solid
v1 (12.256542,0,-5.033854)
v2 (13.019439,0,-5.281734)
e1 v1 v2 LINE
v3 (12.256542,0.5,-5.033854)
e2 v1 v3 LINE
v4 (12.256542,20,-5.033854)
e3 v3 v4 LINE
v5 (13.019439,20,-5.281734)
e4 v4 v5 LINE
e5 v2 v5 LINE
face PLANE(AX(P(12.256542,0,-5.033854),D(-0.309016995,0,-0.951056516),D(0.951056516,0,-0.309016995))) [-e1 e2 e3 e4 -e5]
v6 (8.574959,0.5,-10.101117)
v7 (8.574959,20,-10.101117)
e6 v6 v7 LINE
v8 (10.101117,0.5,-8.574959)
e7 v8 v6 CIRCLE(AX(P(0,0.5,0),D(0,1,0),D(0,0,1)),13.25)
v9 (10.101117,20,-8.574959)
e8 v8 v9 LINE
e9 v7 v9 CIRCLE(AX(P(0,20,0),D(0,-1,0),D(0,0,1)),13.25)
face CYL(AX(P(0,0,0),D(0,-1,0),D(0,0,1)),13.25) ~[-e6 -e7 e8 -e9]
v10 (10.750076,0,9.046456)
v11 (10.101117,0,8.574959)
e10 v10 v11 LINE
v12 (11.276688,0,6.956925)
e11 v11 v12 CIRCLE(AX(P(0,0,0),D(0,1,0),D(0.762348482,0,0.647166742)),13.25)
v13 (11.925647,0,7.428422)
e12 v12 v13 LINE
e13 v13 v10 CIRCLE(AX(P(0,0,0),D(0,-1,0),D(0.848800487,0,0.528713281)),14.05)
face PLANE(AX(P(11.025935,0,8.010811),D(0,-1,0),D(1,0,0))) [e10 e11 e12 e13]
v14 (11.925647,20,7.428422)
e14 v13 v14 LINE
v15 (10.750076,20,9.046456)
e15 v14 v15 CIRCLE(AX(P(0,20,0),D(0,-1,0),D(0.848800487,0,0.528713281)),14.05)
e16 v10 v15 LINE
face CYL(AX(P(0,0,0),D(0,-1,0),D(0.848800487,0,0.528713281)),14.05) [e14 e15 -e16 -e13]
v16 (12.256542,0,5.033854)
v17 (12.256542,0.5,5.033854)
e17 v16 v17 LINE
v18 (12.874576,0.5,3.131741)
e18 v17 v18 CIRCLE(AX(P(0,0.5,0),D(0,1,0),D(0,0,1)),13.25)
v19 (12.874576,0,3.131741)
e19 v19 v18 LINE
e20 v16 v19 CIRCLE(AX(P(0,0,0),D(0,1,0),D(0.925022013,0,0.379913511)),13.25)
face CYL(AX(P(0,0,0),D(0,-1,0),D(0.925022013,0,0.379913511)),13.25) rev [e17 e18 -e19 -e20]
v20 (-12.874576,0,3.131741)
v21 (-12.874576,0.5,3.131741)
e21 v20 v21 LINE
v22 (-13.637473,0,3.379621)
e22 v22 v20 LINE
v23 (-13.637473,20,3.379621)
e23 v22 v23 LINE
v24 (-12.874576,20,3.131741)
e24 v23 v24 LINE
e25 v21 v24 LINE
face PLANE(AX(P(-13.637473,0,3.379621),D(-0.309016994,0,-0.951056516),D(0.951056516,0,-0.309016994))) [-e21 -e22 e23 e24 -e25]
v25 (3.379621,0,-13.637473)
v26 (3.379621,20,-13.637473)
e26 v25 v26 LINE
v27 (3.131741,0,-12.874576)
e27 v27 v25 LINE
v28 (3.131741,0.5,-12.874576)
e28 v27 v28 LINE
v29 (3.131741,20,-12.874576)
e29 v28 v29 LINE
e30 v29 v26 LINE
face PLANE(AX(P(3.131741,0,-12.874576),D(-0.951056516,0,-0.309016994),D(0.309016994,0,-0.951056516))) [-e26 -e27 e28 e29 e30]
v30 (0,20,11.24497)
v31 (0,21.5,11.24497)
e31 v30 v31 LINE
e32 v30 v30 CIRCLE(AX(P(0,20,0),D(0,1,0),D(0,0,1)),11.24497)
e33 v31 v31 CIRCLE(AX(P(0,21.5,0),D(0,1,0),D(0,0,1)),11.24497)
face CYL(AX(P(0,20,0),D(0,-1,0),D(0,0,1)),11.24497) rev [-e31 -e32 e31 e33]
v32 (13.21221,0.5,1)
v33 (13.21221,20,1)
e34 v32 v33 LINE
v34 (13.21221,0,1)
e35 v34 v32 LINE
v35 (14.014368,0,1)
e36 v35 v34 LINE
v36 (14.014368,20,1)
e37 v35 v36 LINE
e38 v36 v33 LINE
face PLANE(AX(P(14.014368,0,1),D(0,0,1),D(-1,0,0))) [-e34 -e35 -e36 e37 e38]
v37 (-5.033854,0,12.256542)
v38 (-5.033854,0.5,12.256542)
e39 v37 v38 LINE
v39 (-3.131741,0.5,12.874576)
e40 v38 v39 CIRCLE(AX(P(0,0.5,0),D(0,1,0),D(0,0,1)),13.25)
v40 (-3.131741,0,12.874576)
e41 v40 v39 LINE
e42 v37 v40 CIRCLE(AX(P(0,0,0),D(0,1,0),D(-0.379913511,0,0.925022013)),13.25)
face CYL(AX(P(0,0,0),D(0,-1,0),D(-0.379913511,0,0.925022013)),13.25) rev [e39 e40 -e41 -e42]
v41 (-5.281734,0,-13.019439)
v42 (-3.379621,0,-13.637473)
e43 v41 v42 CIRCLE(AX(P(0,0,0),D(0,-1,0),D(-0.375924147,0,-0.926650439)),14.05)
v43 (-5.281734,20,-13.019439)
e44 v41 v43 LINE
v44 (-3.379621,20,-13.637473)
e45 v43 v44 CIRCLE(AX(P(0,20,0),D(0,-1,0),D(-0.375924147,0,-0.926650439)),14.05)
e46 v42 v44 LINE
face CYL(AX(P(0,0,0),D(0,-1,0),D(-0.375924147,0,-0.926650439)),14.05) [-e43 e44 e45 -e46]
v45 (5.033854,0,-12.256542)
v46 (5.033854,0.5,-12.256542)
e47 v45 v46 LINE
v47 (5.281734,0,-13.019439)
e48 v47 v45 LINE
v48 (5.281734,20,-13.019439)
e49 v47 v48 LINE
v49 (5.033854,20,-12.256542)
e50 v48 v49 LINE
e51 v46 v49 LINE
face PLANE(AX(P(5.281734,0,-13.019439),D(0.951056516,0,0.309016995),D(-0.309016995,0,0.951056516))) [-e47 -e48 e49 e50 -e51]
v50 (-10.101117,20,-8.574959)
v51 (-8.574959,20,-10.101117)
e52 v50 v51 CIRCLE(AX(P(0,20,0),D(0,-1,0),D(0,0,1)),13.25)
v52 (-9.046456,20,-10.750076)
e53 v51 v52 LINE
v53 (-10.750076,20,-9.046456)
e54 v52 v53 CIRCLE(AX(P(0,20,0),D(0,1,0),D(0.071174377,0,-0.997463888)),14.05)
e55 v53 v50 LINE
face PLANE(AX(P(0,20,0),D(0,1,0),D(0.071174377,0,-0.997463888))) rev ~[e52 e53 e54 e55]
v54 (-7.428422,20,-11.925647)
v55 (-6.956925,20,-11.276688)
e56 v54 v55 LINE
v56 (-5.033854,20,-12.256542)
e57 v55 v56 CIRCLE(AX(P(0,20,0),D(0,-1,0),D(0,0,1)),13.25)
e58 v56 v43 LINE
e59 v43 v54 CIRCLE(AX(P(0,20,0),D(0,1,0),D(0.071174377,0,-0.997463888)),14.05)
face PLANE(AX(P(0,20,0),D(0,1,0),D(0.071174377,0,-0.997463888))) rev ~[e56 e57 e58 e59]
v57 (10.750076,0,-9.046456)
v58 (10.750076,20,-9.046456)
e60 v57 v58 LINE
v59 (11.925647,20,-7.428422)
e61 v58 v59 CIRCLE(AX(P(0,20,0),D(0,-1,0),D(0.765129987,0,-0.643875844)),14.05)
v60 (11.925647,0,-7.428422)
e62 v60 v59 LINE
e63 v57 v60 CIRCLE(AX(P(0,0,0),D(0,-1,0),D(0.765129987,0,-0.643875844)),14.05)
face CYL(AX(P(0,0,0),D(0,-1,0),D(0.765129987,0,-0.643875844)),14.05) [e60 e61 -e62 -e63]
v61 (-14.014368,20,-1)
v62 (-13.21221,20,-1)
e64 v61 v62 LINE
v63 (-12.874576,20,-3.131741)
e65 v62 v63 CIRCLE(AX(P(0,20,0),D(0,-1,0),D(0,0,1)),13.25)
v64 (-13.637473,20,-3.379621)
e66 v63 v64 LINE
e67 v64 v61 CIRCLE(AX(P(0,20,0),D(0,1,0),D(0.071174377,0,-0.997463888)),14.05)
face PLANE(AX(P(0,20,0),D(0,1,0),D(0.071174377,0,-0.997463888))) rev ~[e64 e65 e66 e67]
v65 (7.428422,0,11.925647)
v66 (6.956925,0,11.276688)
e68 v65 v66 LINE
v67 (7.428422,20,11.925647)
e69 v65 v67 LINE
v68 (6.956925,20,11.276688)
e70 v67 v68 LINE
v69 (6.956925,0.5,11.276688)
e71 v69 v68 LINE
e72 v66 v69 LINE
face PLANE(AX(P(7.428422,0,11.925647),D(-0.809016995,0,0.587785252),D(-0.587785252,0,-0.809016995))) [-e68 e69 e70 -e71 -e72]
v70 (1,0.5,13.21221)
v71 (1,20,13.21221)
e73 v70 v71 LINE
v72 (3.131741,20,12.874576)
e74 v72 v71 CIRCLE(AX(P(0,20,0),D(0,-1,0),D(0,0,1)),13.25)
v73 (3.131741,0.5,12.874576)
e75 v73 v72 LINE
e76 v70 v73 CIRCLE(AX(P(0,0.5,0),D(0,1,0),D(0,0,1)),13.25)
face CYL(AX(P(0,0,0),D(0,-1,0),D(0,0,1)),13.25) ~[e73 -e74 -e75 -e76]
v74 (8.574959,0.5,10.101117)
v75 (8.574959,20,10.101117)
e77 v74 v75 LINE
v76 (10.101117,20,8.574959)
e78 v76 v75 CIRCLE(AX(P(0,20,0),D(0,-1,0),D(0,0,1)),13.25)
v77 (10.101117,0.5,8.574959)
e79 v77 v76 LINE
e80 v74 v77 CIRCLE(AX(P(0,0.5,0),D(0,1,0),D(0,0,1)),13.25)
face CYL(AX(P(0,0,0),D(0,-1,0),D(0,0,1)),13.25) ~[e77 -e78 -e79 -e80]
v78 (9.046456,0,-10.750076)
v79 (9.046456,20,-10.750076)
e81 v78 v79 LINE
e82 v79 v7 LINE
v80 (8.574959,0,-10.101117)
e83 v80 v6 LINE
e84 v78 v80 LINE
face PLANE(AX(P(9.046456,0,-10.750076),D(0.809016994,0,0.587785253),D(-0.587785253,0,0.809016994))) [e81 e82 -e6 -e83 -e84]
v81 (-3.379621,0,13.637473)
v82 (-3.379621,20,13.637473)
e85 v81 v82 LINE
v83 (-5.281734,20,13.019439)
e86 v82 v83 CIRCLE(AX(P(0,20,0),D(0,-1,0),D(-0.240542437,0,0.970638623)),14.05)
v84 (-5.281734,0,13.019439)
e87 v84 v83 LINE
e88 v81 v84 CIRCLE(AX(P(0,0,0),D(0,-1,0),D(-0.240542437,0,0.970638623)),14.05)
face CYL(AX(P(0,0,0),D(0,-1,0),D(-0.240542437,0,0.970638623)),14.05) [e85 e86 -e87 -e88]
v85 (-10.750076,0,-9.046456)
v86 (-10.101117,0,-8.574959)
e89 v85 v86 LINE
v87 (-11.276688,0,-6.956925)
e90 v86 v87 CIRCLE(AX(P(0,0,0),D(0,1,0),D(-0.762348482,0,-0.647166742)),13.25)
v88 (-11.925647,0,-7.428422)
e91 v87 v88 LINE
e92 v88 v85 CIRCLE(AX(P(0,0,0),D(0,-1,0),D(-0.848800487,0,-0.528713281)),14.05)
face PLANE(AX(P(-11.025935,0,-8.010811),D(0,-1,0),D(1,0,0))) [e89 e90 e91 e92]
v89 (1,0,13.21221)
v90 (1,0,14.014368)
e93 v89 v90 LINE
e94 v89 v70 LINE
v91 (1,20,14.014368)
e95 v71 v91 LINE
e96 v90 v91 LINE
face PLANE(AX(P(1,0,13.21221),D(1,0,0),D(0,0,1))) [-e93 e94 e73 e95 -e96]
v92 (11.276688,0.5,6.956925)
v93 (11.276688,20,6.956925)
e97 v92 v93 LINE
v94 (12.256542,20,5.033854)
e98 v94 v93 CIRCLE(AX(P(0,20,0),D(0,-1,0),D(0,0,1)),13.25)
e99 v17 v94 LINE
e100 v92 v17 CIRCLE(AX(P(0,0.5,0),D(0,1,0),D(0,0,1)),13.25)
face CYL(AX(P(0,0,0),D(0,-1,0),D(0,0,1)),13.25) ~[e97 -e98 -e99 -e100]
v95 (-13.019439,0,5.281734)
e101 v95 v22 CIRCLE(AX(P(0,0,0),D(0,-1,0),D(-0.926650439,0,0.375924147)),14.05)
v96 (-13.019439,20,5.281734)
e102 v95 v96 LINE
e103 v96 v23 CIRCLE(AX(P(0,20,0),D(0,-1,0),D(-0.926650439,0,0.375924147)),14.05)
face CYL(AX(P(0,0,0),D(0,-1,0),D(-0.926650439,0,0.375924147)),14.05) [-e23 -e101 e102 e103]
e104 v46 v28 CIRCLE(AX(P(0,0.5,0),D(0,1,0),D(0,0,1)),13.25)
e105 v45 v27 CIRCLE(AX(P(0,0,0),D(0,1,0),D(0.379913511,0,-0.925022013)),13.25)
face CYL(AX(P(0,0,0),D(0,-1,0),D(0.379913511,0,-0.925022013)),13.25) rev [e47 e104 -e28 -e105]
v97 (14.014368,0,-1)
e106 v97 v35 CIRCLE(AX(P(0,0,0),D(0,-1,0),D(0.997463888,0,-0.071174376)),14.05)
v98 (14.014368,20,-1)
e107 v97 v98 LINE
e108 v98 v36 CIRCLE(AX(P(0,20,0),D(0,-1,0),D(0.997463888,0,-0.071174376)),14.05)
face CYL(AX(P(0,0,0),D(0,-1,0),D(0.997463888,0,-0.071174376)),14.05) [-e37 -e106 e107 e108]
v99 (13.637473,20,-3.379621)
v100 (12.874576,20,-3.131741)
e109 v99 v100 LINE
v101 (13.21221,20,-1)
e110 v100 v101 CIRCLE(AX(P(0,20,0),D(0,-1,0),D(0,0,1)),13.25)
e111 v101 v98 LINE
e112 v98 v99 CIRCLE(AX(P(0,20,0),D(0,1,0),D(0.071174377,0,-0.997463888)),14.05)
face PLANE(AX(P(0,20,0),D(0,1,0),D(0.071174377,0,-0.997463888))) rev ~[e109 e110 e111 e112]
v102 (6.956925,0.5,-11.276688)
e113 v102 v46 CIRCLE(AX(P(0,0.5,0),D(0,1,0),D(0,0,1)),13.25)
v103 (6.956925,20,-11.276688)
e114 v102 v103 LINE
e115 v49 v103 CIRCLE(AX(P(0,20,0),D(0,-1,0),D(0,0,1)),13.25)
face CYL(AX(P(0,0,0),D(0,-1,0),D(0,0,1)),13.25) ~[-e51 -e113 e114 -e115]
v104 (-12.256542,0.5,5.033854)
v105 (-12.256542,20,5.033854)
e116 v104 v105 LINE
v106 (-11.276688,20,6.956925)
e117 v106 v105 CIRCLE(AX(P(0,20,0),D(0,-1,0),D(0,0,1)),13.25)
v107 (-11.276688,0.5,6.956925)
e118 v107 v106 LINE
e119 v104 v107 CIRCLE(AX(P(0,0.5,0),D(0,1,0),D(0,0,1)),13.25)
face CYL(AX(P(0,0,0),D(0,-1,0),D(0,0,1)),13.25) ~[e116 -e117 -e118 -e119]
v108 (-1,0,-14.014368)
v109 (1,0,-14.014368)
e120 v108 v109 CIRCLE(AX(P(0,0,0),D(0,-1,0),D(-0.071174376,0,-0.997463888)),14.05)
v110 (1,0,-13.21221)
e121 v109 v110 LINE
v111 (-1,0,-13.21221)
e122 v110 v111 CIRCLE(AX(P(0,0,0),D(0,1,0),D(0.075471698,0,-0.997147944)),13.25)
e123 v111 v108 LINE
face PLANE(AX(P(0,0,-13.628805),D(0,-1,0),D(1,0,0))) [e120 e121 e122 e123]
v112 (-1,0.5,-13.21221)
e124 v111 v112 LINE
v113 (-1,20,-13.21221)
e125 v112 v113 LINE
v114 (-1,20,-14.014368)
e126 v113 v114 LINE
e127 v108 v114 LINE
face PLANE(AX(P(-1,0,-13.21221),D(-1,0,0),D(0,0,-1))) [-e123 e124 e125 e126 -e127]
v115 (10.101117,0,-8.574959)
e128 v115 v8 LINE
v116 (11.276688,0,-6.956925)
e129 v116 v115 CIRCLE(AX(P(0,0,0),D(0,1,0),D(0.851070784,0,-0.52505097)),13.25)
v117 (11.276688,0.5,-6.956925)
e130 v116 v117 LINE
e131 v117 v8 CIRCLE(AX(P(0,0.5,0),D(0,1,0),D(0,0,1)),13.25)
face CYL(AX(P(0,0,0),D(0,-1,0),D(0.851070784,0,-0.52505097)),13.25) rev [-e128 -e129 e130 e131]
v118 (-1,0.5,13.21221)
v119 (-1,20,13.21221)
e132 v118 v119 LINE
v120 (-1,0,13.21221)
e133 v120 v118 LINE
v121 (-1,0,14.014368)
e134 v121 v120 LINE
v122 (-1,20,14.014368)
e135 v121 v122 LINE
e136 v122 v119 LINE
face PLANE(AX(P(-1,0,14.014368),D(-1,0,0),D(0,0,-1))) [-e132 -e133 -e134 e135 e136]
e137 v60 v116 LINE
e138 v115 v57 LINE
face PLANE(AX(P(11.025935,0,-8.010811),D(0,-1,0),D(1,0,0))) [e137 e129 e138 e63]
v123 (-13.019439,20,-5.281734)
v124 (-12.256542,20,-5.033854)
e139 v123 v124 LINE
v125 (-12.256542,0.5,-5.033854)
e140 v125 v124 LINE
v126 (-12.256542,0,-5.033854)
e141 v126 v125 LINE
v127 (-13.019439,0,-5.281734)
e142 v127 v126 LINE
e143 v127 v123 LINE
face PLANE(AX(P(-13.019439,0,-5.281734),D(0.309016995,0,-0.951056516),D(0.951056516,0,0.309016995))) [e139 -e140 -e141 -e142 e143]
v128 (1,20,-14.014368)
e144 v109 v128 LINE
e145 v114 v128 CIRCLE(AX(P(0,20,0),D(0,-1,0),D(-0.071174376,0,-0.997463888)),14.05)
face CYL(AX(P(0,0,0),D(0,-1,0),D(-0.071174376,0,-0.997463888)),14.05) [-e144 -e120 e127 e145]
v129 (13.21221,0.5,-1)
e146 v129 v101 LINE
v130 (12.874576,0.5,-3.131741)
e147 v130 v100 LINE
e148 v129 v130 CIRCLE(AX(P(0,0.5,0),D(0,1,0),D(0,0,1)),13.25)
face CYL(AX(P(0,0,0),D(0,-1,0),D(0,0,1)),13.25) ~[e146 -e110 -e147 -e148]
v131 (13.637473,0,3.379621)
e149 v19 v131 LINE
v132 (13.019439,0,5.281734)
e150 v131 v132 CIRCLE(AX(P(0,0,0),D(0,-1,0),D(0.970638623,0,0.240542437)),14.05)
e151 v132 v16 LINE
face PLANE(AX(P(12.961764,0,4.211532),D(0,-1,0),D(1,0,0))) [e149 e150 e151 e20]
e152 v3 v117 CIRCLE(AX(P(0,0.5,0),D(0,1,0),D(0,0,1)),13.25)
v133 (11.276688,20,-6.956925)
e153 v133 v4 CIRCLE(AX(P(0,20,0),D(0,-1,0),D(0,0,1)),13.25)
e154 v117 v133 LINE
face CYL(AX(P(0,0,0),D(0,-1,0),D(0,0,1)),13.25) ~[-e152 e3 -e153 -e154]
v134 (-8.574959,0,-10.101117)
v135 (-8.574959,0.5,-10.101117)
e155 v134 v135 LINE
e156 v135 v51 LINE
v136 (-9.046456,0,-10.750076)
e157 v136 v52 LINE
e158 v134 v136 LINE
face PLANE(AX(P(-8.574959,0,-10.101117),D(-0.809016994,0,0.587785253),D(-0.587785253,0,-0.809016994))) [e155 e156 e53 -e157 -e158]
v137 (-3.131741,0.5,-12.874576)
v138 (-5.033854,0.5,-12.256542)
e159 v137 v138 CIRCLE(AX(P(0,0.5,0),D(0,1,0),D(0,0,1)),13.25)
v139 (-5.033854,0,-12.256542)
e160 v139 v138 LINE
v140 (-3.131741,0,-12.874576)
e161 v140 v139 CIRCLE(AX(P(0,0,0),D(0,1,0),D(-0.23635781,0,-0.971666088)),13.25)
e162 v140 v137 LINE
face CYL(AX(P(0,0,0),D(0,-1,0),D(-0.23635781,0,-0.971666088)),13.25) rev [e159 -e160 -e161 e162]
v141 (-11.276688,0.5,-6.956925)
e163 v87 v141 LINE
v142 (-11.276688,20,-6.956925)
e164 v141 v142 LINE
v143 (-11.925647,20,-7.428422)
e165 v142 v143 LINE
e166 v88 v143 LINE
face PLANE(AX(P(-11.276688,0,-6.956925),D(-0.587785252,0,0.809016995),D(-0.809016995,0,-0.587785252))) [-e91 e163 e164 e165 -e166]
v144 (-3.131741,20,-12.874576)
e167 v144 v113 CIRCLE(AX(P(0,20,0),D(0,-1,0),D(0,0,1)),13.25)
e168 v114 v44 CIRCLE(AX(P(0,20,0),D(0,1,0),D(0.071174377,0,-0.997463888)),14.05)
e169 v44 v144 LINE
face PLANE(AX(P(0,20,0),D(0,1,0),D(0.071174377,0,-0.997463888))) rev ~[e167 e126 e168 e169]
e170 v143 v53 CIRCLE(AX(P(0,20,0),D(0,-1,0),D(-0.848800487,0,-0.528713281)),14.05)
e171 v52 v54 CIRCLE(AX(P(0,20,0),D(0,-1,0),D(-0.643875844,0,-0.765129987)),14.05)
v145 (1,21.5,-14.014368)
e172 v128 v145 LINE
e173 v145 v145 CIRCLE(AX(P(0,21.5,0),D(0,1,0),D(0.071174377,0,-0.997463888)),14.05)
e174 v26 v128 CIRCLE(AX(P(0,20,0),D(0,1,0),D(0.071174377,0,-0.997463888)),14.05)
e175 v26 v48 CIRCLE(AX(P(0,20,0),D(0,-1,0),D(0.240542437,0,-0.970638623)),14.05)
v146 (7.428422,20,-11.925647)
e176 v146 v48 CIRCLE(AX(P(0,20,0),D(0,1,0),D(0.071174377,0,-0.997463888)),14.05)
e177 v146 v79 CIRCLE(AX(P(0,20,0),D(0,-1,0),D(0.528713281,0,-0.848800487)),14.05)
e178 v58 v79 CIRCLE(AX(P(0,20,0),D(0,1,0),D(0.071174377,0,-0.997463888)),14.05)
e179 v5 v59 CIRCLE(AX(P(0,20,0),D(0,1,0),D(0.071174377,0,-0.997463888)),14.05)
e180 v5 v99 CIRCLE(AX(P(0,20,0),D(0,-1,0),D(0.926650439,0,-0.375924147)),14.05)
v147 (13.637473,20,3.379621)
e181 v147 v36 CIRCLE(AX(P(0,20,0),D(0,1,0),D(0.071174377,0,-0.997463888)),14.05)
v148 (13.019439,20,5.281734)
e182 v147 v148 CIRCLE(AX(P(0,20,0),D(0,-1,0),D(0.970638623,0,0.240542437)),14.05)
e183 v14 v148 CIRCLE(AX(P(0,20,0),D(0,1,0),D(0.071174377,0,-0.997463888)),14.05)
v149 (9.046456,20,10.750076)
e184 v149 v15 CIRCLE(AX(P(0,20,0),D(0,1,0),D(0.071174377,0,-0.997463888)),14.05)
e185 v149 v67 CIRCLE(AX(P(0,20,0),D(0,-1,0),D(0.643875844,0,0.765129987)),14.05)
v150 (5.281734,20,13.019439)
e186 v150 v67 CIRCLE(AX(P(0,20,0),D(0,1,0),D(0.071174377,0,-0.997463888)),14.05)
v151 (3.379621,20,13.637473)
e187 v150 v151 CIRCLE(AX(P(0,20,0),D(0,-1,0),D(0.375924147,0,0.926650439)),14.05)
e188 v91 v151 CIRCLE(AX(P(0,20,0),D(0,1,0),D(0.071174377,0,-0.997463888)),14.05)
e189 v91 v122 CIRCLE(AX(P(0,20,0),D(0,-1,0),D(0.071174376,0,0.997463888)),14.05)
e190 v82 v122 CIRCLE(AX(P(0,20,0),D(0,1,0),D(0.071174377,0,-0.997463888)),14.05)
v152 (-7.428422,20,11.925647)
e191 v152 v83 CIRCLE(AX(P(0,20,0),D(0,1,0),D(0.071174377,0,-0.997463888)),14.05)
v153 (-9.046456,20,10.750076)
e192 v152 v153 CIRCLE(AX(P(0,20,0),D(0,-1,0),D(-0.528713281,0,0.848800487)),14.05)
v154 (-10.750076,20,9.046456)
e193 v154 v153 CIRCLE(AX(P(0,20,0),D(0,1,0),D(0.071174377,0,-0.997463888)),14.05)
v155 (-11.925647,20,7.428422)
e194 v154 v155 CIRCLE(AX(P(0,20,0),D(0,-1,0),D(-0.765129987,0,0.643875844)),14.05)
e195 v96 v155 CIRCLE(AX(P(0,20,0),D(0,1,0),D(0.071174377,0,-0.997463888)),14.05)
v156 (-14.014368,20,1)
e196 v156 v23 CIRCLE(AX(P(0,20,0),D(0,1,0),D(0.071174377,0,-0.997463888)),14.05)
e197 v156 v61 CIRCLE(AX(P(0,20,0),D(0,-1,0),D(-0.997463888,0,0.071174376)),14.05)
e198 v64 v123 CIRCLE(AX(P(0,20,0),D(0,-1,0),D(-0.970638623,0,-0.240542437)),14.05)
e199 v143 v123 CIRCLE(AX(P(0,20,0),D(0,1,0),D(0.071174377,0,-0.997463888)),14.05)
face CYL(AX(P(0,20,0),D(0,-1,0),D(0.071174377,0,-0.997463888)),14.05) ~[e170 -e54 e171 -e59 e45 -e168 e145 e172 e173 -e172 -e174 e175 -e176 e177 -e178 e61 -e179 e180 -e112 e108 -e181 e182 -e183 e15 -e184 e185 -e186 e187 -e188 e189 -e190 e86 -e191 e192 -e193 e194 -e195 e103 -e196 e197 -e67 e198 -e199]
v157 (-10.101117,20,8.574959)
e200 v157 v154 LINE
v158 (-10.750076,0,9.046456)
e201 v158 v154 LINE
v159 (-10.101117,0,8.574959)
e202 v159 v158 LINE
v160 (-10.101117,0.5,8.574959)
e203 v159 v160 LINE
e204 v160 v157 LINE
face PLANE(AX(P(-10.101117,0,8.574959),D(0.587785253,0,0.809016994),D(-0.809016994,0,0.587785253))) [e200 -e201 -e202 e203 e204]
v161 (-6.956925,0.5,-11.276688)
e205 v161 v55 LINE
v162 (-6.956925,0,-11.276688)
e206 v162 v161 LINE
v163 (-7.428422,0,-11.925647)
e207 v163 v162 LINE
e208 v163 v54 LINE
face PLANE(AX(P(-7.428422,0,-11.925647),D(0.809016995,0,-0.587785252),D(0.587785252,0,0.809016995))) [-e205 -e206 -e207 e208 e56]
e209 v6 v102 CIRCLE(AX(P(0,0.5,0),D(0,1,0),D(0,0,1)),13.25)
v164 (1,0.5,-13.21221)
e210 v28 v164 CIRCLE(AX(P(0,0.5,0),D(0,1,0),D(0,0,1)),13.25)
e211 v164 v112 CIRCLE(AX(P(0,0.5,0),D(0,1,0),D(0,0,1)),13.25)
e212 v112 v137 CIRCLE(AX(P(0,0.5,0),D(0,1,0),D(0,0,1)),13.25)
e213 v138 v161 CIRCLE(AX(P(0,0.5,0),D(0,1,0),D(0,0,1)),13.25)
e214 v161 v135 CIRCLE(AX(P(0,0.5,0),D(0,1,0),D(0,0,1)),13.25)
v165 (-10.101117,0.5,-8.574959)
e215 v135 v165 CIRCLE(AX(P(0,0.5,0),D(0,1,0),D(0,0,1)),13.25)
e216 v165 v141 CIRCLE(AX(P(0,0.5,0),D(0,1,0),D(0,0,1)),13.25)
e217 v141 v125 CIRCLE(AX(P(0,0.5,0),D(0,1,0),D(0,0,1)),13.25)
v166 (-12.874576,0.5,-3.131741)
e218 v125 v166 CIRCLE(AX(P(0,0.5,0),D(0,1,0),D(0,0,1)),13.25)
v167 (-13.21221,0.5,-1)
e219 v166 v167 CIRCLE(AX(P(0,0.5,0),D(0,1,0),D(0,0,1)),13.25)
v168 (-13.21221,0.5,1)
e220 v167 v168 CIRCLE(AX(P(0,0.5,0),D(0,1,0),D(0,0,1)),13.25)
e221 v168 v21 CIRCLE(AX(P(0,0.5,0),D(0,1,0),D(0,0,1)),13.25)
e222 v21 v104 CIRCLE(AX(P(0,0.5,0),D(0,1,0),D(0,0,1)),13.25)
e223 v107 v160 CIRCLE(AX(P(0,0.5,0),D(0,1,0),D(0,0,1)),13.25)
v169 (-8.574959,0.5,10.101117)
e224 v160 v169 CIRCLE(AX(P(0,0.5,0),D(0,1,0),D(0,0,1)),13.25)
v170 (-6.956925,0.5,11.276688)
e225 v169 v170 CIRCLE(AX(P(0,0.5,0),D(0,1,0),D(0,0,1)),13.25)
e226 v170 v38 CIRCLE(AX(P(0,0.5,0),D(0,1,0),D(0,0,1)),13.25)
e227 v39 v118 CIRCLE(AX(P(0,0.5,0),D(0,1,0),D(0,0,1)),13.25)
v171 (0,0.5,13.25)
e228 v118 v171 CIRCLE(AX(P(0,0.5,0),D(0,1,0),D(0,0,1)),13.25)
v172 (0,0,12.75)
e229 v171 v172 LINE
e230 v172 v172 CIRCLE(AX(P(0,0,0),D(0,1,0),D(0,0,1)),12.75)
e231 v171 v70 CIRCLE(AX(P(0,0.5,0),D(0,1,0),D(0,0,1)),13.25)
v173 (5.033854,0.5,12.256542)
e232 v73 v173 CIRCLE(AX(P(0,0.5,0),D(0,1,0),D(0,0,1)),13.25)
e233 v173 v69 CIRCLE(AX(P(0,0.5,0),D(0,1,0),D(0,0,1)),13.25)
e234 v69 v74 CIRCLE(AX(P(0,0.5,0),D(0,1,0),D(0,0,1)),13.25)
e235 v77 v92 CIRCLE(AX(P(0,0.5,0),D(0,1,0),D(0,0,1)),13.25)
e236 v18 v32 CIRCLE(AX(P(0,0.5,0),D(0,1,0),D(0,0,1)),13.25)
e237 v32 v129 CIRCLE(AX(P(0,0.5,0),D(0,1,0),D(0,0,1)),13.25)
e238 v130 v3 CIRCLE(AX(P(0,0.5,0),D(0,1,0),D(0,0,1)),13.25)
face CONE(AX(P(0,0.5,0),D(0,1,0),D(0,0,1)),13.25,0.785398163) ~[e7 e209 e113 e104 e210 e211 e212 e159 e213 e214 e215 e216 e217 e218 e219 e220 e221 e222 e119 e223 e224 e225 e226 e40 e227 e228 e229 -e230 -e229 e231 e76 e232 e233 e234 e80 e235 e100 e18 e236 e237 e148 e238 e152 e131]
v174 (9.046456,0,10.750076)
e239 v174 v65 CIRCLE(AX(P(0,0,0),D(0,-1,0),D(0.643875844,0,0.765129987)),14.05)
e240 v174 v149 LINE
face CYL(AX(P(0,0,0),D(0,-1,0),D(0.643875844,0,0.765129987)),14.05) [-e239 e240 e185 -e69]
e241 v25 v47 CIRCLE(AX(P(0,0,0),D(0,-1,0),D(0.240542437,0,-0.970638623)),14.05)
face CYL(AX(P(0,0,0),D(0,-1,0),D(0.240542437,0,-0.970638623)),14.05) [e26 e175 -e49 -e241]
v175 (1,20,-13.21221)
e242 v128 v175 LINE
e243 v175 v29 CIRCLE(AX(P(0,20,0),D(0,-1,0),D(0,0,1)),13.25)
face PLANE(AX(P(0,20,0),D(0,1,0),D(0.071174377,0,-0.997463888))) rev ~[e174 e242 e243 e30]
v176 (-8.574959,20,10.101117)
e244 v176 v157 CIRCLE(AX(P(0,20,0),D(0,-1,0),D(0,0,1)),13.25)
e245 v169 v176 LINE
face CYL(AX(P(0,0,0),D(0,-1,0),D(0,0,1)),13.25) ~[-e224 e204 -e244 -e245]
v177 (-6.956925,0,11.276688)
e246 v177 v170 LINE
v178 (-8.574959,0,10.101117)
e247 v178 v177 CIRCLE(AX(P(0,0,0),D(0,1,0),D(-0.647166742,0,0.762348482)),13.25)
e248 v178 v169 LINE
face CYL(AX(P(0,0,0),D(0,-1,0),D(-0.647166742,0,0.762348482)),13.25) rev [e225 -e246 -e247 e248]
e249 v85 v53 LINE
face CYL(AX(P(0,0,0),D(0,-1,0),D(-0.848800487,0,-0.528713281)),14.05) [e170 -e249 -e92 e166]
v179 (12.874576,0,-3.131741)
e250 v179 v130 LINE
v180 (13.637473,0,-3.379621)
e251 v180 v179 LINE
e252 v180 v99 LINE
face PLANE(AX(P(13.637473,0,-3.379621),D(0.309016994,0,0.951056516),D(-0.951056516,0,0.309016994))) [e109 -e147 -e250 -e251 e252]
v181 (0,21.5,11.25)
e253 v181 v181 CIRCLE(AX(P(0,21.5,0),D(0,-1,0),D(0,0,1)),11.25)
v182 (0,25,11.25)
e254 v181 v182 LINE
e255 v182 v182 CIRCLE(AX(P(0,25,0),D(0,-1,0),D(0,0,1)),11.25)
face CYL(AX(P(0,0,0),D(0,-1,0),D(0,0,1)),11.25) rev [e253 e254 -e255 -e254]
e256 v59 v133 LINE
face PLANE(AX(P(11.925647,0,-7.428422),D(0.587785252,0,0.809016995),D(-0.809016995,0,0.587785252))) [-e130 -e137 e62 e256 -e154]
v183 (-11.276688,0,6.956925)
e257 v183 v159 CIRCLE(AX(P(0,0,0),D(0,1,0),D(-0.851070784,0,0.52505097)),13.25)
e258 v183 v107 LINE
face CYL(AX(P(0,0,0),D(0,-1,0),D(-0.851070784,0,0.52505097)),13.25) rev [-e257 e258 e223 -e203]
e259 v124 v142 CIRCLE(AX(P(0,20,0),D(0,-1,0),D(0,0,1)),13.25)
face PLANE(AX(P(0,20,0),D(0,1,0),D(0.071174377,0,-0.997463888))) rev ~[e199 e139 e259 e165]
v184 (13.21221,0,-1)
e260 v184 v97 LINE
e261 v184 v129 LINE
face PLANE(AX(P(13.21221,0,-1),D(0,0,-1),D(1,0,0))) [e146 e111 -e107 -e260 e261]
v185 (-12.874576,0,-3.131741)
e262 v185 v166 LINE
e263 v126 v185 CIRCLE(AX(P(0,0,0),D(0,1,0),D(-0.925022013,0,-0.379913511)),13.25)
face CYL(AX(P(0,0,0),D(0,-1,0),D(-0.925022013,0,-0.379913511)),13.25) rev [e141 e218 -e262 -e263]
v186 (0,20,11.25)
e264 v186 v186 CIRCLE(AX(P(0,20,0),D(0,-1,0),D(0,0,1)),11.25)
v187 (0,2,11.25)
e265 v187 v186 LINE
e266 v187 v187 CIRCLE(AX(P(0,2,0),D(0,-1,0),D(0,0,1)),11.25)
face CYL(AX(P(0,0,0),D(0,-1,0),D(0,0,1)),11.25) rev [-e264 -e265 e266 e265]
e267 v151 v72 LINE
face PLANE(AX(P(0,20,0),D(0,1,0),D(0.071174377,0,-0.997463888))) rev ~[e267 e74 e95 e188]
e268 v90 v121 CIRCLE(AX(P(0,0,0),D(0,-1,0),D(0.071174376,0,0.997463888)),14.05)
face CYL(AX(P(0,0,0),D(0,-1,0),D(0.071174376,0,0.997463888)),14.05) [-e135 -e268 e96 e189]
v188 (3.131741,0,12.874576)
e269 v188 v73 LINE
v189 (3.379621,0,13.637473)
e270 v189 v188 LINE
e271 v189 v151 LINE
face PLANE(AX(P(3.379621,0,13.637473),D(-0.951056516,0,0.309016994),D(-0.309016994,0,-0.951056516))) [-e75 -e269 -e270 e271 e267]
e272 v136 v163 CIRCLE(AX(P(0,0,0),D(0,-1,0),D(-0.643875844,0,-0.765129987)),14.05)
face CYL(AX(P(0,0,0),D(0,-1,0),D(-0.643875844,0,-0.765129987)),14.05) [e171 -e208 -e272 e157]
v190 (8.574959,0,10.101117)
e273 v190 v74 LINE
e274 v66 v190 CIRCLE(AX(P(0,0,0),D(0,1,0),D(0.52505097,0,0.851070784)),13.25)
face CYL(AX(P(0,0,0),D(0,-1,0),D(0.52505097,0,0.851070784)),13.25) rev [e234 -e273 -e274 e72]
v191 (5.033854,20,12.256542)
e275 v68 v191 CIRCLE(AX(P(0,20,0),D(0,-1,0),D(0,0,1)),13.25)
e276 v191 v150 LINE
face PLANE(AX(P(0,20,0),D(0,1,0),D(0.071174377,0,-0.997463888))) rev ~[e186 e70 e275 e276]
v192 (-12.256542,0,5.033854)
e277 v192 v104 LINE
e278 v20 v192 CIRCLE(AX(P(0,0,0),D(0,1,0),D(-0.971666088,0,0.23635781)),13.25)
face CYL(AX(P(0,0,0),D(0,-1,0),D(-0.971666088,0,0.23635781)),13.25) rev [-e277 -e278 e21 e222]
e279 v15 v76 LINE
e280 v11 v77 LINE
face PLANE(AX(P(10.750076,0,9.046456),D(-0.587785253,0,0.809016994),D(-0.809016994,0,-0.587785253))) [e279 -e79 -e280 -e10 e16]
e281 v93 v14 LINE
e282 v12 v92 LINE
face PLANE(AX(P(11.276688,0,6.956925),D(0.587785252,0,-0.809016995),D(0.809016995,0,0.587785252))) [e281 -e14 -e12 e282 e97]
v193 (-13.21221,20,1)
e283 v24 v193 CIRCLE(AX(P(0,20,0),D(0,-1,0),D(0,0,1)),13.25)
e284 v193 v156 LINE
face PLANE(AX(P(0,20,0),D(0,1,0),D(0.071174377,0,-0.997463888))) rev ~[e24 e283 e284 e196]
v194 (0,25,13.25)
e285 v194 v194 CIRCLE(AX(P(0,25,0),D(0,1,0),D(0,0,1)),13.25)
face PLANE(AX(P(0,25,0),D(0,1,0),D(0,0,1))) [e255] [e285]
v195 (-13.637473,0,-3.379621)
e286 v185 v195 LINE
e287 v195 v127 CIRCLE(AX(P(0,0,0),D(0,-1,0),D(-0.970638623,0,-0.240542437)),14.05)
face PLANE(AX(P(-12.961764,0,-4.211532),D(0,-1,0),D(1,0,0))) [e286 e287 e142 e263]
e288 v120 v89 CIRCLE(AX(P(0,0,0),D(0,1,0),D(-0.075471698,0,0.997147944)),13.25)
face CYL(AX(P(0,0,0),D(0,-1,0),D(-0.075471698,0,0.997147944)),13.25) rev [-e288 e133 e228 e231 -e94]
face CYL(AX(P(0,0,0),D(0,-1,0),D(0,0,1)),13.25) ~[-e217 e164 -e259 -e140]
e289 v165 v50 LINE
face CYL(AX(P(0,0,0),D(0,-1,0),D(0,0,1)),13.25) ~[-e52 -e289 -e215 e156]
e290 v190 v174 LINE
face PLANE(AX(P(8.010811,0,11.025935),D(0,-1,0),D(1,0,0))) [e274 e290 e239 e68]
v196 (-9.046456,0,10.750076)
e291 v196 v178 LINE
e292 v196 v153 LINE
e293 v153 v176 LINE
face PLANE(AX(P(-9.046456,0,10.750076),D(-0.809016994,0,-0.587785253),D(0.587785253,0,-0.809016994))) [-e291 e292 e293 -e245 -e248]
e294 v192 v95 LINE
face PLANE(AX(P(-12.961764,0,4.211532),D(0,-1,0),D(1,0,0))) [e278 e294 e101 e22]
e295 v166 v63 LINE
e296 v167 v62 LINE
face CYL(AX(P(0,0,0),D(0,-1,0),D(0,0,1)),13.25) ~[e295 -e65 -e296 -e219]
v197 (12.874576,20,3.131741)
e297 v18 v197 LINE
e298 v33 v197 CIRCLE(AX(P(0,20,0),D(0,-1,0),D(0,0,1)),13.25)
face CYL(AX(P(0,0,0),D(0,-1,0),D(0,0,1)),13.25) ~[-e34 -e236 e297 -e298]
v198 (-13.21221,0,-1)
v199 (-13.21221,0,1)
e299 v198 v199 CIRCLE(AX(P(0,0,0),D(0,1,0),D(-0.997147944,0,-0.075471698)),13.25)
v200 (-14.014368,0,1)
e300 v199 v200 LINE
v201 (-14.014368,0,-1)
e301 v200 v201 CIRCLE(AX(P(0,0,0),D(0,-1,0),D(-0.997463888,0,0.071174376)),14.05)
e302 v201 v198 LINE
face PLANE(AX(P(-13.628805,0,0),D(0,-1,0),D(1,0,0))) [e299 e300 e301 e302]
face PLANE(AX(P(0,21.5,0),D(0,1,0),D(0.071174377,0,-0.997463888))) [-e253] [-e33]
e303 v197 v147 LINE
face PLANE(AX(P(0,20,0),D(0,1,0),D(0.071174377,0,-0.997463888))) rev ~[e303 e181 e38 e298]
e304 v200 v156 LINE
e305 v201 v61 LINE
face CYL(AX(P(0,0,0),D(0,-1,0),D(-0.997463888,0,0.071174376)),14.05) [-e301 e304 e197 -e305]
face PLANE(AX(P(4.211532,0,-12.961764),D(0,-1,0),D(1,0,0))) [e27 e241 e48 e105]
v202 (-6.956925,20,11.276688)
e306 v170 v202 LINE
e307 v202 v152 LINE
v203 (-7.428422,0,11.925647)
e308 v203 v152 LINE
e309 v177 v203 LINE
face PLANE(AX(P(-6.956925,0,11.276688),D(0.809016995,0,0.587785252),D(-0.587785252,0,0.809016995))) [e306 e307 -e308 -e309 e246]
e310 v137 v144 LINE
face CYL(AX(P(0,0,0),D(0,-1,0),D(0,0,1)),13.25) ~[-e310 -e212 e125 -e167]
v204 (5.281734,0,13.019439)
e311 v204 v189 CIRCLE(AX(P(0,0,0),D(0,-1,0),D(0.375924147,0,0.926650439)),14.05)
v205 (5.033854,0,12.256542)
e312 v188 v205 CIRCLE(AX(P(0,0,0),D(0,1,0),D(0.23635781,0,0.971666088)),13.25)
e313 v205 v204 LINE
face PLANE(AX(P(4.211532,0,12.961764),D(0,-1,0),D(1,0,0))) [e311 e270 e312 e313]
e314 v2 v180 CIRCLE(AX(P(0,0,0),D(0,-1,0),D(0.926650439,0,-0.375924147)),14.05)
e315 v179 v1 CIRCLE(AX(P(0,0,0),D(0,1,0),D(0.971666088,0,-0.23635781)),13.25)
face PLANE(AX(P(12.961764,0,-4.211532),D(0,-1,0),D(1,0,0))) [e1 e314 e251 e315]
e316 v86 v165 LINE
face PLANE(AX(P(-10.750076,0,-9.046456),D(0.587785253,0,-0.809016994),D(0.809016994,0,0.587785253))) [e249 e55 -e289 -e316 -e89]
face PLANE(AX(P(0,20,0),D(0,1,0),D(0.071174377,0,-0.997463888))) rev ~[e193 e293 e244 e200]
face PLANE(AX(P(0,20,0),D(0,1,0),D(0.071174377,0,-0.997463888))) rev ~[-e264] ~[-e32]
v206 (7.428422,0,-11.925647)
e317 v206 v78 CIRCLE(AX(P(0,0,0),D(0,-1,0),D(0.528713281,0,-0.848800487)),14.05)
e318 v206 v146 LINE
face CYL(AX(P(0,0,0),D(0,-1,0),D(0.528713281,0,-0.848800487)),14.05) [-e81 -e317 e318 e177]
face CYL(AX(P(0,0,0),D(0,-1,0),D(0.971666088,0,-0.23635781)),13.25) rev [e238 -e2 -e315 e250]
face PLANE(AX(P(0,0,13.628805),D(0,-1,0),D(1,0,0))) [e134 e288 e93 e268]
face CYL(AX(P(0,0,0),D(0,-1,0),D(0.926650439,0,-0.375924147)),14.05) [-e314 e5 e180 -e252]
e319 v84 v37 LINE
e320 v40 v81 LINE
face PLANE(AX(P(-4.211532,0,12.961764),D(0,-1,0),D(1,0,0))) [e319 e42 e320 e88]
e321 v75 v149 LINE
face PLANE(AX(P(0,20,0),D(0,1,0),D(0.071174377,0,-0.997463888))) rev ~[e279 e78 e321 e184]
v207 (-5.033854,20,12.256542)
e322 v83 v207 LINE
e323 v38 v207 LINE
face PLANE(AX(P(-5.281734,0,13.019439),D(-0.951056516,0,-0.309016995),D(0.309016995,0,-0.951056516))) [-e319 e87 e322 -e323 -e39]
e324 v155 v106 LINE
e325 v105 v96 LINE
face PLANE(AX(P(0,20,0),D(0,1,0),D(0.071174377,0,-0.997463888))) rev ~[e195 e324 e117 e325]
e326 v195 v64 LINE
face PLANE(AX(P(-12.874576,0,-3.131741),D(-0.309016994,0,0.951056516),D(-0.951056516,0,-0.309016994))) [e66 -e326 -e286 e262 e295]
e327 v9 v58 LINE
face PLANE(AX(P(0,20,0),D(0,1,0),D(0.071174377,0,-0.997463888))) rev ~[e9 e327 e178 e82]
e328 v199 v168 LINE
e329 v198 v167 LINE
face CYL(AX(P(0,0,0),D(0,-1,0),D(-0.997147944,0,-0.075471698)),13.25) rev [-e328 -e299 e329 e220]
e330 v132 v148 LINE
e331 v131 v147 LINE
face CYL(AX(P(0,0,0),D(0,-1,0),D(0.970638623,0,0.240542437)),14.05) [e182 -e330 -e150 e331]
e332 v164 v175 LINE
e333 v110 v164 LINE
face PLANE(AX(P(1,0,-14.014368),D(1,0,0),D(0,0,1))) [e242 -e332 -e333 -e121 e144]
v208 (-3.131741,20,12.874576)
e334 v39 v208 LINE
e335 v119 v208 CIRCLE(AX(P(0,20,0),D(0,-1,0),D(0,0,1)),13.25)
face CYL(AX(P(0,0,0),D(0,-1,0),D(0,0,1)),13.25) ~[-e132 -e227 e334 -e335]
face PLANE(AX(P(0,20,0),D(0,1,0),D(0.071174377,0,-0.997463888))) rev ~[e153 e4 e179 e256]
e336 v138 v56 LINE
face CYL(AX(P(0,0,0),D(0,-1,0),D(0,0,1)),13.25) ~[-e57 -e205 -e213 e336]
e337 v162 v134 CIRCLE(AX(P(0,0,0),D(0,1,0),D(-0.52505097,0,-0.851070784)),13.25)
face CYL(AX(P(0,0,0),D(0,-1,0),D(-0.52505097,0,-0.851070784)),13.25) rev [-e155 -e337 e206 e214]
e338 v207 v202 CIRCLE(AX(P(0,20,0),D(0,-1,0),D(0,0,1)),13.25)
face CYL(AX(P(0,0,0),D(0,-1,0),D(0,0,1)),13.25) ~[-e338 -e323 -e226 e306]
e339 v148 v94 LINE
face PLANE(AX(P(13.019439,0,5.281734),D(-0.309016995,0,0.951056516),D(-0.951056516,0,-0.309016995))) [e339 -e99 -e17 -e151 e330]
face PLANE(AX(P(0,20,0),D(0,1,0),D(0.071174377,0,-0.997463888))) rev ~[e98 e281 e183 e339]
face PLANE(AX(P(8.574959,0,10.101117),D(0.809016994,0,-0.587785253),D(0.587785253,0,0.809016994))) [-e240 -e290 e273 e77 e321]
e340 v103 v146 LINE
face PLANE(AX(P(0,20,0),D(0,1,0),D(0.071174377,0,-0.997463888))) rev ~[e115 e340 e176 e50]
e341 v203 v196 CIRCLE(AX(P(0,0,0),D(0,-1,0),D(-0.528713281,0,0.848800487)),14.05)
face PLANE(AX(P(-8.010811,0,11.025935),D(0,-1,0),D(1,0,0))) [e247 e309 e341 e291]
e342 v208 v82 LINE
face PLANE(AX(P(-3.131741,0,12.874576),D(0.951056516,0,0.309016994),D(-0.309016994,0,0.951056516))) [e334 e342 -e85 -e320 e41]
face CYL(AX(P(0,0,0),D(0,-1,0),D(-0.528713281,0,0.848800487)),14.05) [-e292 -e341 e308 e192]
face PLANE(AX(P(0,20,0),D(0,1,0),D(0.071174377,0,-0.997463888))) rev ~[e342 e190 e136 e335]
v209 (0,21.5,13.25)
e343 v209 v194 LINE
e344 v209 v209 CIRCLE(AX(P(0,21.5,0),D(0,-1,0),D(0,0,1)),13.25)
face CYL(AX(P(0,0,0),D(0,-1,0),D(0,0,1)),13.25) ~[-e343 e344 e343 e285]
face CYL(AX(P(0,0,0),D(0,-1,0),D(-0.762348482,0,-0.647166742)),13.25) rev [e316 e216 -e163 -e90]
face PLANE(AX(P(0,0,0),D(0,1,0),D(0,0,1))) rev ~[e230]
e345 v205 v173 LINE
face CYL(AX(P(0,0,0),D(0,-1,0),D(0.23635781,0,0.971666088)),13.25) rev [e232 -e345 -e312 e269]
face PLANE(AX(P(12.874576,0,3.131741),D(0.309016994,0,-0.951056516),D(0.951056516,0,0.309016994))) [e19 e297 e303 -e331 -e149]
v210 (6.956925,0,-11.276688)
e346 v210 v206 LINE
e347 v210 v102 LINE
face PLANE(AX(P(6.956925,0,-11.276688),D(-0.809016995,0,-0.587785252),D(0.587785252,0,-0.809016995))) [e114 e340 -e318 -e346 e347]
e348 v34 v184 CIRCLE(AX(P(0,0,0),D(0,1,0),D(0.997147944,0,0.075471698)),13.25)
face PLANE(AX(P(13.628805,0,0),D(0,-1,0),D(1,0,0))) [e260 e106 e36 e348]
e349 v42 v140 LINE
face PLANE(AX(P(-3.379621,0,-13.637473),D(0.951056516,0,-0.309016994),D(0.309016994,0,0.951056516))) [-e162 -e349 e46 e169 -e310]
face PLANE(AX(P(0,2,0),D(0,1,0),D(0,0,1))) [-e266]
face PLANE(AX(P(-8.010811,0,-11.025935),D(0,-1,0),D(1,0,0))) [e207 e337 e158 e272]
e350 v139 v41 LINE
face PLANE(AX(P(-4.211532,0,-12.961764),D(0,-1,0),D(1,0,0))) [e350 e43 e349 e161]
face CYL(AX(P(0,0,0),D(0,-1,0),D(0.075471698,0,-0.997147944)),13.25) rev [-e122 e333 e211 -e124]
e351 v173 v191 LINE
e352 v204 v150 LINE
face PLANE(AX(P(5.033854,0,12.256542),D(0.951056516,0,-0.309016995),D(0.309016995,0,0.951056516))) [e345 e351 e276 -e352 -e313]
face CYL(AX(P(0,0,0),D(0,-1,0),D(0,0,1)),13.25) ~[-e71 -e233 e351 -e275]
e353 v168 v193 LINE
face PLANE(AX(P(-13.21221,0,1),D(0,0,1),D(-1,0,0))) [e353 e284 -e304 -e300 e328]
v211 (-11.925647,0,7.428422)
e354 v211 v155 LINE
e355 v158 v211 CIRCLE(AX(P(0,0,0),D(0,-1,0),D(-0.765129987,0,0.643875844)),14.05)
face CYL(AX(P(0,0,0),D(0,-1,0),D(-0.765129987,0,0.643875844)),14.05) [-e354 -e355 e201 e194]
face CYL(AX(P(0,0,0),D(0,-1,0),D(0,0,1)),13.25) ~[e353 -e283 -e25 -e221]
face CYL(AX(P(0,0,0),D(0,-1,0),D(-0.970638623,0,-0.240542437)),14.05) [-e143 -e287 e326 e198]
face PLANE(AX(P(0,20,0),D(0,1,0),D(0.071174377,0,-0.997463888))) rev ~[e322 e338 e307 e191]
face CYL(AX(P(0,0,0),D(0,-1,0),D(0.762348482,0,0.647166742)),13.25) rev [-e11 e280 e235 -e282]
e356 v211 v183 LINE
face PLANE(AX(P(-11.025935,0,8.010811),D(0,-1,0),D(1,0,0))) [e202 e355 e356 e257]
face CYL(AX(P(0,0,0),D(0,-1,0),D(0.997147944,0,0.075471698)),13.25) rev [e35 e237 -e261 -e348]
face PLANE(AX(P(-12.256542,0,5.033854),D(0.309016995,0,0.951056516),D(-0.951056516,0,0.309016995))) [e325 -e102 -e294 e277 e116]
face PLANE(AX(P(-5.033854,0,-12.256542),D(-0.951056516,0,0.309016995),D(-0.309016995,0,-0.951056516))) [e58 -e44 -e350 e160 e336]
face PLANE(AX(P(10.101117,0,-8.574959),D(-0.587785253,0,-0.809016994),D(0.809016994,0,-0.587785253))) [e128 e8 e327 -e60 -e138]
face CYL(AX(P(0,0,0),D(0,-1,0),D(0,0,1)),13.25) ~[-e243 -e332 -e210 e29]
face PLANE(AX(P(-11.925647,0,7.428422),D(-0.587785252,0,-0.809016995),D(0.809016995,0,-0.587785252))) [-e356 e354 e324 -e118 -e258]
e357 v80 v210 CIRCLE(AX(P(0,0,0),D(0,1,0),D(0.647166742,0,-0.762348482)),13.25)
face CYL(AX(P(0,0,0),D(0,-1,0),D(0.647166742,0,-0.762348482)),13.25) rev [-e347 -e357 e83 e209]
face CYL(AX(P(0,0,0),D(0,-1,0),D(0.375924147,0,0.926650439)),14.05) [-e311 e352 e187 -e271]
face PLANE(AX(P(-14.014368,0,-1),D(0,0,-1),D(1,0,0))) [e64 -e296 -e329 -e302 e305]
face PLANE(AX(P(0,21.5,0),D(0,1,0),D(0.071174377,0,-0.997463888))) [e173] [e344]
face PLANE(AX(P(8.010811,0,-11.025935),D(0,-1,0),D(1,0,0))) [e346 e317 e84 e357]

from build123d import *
from build123d.topology import SkipClean

# Parameters (mm, degrees)
SKETCH_1_R      = 13.25
EXTRUDE_1_DEPTH = 25
SHELL_1_T       = -2
CHAMFER_1_SIZE  = 0.5
EXTRUDE_2_DEPTH = 20
SKETCH_3_R      = 14.05
SKETCH_3_R_2    = 11.244970287
EXTRUDE_3_DEPTH = 1.5


with BuildPart() as part:
    # 草图1 → 拉伸1 (new body)
    with BuildSketch(Plane(origin=(0, 0, 0), x_dir=(1, 0, 0), z_dir=(0, 1, 0))):
        with Locations(Location((0, 0, 0), (0, 0, 270))):
            Circle(SKETCH_1_R)
    extrude(amount=EXTRUDE_1_DEPTH)

    # 抽壳1
    shell_1_openings = [part.faces().sort_by_distance(p)[0] for p in [
        (0, 25, 0),
    ]]
    offset(amount=SHELL_1_T, openings=shell_1_openings, kind=Kind.INTERSECTION)

    # 倒角1
    chamfer_1_edges = [part.edges().sort_by_distance(p)[0] for p in [
        (0, 0, -13.25),
    ]]
    chamfer(chamfer_1_edges, length=CHAMFER_1_SIZE)

    # 草图2 → 拉伸2 (add)
    with BuildSketch(Plane.XZ):
        with BuildLine():
            Line((5.03385402, 12.25654167), (5.281734279, 13.01943866))
            ThreePointArc((5.281734279, 13.01943866), (4.341688771, 13.362344054), (3.379621246, 13.637472648))
            Line((3.379621246, 13.637472648), (3.131740988, 12.874575658))
            ThreePointArc((3.131740988, 12.874575658), (4.094475175, 12.601498841), (5.03385402, 12.25654167))
        make_face()
        with BuildLine():
            Line((1, 13.212210262), (1, 14.014367628))
            ThreePointArc((1, 14.014367628), (0, 14.05), (-1, 14.014367628))
            Line((-1, 14.014367628), (-1, 13.212210262))
            ThreePointArc((-1, 13.212210262), (0, 13.25), (1, 13.212210262))
        make_face()
        with BuildLine():
            Line((8.574959336, 10.101117383), (9.046455606, 10.750076324))
            ThreePointArc((9.046455606, 10.750076324), (8.258382795, 11.366688771), (7.428421617, 11.925646828))
            Line((7.428421617, 11.925646828), (6.956925348, 11.276687887))
            ThreePointArc((6.956925348, 11.276687887), (7.788154593, 10.719475175), (8.574959336, 10.101117383))
        make_face()
        with BuildLine():
            Line((11.276687887, 6.956925348), (11.925646828, 7.428421617))
            ThreePointArc((11.925646828, 7.428421617), (11.366688771, 8.258382795), (10.750076324, 9.046455606))
            Line((10.750076324, 9.046455606), (10.101117383, 8.574959336))
            ThreePointArc((10.101117383, 8.574959336), (10.719475175, 7.788154593), (11.276687887, 6.956925348))
        make_face()
        with BuildLine():
            Line((12.874575658, 3.131740988), (13.637472648, 3.379621246))
            ThreePointArc((13.637472648, 3.379621246), (13.362344054, 4.341688771), (13.01943866, 5.281734279))
            Line((13.01943866, 5.281734279), (12.25654167, 5.03385402))
            ThreePointArc((12.25654167, 5.03385402), (12.601498841, 4.094475175), (12.874575658, 3.131740988))
        make_face()
        with BuildLine():
            Line((13.212210262, -1), (14.014367628, -1))
            ThreePointArc((14.014367628, -1), (14.05, 0), (14.014367628, 1))
            Line((14.014367628, 1), (13.212210262, 1))
            ThreePointArc((13.212210262, 1), (13.25, 0), (13.212210262, -1))
        make_face()
        with BuildLine():
            Line((12.25654167, -5.03385402), (13.01943866, -5.281734279))
            ThreePointArc((13.01943866, -5.281734279), (13.362344054, -4.341688771), (13.637472648, -3.379621246))
            Line((13.637472648, -3.379621246), (12.874575658, -3.131740988))
            ThreePointArc((12.874575658, -3.131740988), (12.601498841, -4.094475175), (12.25654167, -5.03385402))
        make_face()
        with BuildLine():
            Line((10.101117383, -8.574959336), (10.750076324, -9.046455606))
            ThreePointArc((10.750076324, -9.046455606), (11.366688771, -8.258382795), (11.925646828, -7.428421617))
            Line((11.925646828, -7.428421617), (11.276687887, -6.956925348))
            ThreePointArc((11.276687887, -6.956925348), (10.719475175, -7.788154593), (10.101117383, -8.574959336))
        make_face()
        with BuildLine():
            Line((6.956925348, -11.276687887), (7.428421617, -11.925646828))
            ThreePointArc((7.428421617, -11.925646828), (8.258382795, -11.366688771), (9.046455606, -10.750076324))
            Line((9.046455606, -10.750076324), (8.574959336, -10.101117383))
            ThreePointArc((8.574959336, -10.101117383), (7.788154593, -10.719475175), (6.956925348, -11.276687887))
        make_face()
        with BuildLine():
            Line((3.131740988, -12.874575658), (3.379621246, -13.637472648))
            ThreePointArc((3.379621246, -13.637472648), (4.341688771, -13.362344054), (5.281734279, -13.01943866))
            Line((5.281734279, -13.01943866), (5.03385402, -12.25654167))
            ThreePointArc((5.03385402, -12.25654167), (4.094475175, -12.601498841), (3.131740988, -12.874575658))
        make_face()
        with BuildLine():
            Line((-1, -13.212210262), (-1, -14.014367628))
            ThreePointArc((-1, -14.014367628), (0, -14.05), (1, -14.014367628))
            Line((1, -14.014367628), (1, -13.212210262))
            ThreePointArc((1, -13.212210262), (0, -13.25), (-1, -13.212210262))
        make_face()
        with BuildLine():
            Line((-5.03385402, -12.25654167), (-5.281734279, -13.01943866))
            ThreePointArc((-5.281734279, -13.01943866), (-4.341688771, -13.362344054), (-3.379621246, -13.637472648))
            Line((-3.379621246, -13.637472648), (-3.131740988, -12.874575658))
            ThreePointArc((-3.131740988, -12.874575658), (-4.094475175, -12.601498841), (-5.03385402, -12.25654167))
        make_face()
        with BuildLine():
            Line((-8.574959336, -10.101117383), (-9.046455606, -10.750076324))
            ThreePointArc((-9.046455606, -10.750076324), (-8.258382795, -11.366688771), (-7.428421617, -11.925646828))
            Line((-7.428421617, -11.925646828), (-6.956925348, -11.276687887))
            ThreePointArc((-6.956925348, -11.276687887), (-7.788154593, -10.719475175), (-8.574959336, -10.101117383))
        make_face()
        with BuildLine():
            Line((-11.276687887, -6.956925348), (-11.925646828, -7.428421617))
            ThreePointArc((-11.925646828, -7.428421617), (-11.366688771, -8.258382795), (-10.750076324, -9.046455606))
            Line((-10.750076324, -9.046455606), (-10.101117383, -8.574959336))
            ThreePointArc((-10.101117383, -8.574959336), (-10.719475175, -7.788154593), (-11.276687887, -6.956925348))
        make_face()
        with BuildLine():
            Line((-12.874575658, -3.131740988), (-13.637472648, -3.379621246))
            ThreePointArc((-13.637472648, -3.379621246), (-13.362344054, -4.341688771), (-13.01943866, -5.281734279))
            Line((-13.01943866, -5.281734279), (-12.25654167, -5.03385402))
            ThreePointArc((-12.25654167, -5.03385402), (-12.601498841, -4.094475175), (-12.874575658, -3.131740988))
        make_face()
        with BuildLine():
            Line((-13.212210262, 1), (-14.014367628, 1))
            ThreePointArc((-14.014367628, 1), (-14.05, 0), (-14.014367628, -1))
            Line((-14.014367628, -1), (-13.212210262, -1))
            ThreePointArc((-13.212210262, -1), (-13.25, 0), (-13.212210262, 1))
        make_face()
        with BuildLine():
            Line((-12.25654167, 5.03385402), (-13.01943866, 5.281734279))
            ThreePointArc((-13.01943866, 5.281734279), (-13.362344054, 4.341688771), (-13.637472648, 3.379621246))
            Line((-13.637472648, 3.379621246), (-12.874575658, 3.131740988))
            ThreePointArc((-12.874575658, 3.131740988), (-12.601498841, 4.094475175), (-12.25654167, 5.03385402))
        make_face()
        with BuildLine():
            Line((-10.101117383, 8.574959336), (-10.750076324, 9.046455606))
            ThreePointArc((-10.750076324, 9.046455606), (-11.366688771, 8.258382795), (-11.925646828, 7.428421617))
            Line((-11.925646828, 7.428421617), (-11.276687887, 6.956925348))
            ThreePointArc((-11.276687887, 6.956925348), (-10.719475175, 7.788154593), (-10.101117383, 8.574959336))
        make_face()
        with BuildLine():
            Line((-6.956925348, 11.276687887), (-7.428421617, 11.925646828))
            ThreePointArc((-7.428421617, 11.925646828), (-8.258382795, 11.366688771), (-9.046455606, 10.750076324))
            Line((-9.046455606, 10.750076324), (-8.574959336, 10.101117383))
            ThreePointArc((-8.574959336, 10.101117383), (-7.788154593, 10.719475175), (-6.956925348, 11.276687887))
        make_face()
        with BuildLine():
            Line((-3.131740988, 12.874575658), (-3.379621246, 13.637472648))
            ThreePointArc((-3.379621246, 13.637472648), (-4.341688771, 13.362344054), (-5.281734279, 13.01943866))
            Line((-5.281734279, 13.01943866), (-5.03385402, 12.25654167))
            ThreePointArc((-5.03385402, 12.25654167), (-4.094475175, 12.601498841), (-3.131740988, 12.874575658))
        make_face()
    extrude(amount=-EXTRUDE_2_DEPTH)

    # 草图3 → 拉伸3 (add)
    with SkipClean():  # the faces are left unmerged after this step: merging them gives an invalid solid
        with BuildSketch(Plane(origin=(0, 20, 0), x_dir=(1, 0, 0), z_dir=(0, 1, 0))):
            with Locations(Location((0, 0, 0), (0, 0, 85.91855766))):
                Circle(SKETCH_3_R)
            with Locations(Location((0, 0, 0), (0, 0, 270))):
                Circle(SKETCH_3_R_2, mode=Mode.SUBTRACT)
        extrude(amount=EXTRUDE_3_DEPTH)


solid = part.part
